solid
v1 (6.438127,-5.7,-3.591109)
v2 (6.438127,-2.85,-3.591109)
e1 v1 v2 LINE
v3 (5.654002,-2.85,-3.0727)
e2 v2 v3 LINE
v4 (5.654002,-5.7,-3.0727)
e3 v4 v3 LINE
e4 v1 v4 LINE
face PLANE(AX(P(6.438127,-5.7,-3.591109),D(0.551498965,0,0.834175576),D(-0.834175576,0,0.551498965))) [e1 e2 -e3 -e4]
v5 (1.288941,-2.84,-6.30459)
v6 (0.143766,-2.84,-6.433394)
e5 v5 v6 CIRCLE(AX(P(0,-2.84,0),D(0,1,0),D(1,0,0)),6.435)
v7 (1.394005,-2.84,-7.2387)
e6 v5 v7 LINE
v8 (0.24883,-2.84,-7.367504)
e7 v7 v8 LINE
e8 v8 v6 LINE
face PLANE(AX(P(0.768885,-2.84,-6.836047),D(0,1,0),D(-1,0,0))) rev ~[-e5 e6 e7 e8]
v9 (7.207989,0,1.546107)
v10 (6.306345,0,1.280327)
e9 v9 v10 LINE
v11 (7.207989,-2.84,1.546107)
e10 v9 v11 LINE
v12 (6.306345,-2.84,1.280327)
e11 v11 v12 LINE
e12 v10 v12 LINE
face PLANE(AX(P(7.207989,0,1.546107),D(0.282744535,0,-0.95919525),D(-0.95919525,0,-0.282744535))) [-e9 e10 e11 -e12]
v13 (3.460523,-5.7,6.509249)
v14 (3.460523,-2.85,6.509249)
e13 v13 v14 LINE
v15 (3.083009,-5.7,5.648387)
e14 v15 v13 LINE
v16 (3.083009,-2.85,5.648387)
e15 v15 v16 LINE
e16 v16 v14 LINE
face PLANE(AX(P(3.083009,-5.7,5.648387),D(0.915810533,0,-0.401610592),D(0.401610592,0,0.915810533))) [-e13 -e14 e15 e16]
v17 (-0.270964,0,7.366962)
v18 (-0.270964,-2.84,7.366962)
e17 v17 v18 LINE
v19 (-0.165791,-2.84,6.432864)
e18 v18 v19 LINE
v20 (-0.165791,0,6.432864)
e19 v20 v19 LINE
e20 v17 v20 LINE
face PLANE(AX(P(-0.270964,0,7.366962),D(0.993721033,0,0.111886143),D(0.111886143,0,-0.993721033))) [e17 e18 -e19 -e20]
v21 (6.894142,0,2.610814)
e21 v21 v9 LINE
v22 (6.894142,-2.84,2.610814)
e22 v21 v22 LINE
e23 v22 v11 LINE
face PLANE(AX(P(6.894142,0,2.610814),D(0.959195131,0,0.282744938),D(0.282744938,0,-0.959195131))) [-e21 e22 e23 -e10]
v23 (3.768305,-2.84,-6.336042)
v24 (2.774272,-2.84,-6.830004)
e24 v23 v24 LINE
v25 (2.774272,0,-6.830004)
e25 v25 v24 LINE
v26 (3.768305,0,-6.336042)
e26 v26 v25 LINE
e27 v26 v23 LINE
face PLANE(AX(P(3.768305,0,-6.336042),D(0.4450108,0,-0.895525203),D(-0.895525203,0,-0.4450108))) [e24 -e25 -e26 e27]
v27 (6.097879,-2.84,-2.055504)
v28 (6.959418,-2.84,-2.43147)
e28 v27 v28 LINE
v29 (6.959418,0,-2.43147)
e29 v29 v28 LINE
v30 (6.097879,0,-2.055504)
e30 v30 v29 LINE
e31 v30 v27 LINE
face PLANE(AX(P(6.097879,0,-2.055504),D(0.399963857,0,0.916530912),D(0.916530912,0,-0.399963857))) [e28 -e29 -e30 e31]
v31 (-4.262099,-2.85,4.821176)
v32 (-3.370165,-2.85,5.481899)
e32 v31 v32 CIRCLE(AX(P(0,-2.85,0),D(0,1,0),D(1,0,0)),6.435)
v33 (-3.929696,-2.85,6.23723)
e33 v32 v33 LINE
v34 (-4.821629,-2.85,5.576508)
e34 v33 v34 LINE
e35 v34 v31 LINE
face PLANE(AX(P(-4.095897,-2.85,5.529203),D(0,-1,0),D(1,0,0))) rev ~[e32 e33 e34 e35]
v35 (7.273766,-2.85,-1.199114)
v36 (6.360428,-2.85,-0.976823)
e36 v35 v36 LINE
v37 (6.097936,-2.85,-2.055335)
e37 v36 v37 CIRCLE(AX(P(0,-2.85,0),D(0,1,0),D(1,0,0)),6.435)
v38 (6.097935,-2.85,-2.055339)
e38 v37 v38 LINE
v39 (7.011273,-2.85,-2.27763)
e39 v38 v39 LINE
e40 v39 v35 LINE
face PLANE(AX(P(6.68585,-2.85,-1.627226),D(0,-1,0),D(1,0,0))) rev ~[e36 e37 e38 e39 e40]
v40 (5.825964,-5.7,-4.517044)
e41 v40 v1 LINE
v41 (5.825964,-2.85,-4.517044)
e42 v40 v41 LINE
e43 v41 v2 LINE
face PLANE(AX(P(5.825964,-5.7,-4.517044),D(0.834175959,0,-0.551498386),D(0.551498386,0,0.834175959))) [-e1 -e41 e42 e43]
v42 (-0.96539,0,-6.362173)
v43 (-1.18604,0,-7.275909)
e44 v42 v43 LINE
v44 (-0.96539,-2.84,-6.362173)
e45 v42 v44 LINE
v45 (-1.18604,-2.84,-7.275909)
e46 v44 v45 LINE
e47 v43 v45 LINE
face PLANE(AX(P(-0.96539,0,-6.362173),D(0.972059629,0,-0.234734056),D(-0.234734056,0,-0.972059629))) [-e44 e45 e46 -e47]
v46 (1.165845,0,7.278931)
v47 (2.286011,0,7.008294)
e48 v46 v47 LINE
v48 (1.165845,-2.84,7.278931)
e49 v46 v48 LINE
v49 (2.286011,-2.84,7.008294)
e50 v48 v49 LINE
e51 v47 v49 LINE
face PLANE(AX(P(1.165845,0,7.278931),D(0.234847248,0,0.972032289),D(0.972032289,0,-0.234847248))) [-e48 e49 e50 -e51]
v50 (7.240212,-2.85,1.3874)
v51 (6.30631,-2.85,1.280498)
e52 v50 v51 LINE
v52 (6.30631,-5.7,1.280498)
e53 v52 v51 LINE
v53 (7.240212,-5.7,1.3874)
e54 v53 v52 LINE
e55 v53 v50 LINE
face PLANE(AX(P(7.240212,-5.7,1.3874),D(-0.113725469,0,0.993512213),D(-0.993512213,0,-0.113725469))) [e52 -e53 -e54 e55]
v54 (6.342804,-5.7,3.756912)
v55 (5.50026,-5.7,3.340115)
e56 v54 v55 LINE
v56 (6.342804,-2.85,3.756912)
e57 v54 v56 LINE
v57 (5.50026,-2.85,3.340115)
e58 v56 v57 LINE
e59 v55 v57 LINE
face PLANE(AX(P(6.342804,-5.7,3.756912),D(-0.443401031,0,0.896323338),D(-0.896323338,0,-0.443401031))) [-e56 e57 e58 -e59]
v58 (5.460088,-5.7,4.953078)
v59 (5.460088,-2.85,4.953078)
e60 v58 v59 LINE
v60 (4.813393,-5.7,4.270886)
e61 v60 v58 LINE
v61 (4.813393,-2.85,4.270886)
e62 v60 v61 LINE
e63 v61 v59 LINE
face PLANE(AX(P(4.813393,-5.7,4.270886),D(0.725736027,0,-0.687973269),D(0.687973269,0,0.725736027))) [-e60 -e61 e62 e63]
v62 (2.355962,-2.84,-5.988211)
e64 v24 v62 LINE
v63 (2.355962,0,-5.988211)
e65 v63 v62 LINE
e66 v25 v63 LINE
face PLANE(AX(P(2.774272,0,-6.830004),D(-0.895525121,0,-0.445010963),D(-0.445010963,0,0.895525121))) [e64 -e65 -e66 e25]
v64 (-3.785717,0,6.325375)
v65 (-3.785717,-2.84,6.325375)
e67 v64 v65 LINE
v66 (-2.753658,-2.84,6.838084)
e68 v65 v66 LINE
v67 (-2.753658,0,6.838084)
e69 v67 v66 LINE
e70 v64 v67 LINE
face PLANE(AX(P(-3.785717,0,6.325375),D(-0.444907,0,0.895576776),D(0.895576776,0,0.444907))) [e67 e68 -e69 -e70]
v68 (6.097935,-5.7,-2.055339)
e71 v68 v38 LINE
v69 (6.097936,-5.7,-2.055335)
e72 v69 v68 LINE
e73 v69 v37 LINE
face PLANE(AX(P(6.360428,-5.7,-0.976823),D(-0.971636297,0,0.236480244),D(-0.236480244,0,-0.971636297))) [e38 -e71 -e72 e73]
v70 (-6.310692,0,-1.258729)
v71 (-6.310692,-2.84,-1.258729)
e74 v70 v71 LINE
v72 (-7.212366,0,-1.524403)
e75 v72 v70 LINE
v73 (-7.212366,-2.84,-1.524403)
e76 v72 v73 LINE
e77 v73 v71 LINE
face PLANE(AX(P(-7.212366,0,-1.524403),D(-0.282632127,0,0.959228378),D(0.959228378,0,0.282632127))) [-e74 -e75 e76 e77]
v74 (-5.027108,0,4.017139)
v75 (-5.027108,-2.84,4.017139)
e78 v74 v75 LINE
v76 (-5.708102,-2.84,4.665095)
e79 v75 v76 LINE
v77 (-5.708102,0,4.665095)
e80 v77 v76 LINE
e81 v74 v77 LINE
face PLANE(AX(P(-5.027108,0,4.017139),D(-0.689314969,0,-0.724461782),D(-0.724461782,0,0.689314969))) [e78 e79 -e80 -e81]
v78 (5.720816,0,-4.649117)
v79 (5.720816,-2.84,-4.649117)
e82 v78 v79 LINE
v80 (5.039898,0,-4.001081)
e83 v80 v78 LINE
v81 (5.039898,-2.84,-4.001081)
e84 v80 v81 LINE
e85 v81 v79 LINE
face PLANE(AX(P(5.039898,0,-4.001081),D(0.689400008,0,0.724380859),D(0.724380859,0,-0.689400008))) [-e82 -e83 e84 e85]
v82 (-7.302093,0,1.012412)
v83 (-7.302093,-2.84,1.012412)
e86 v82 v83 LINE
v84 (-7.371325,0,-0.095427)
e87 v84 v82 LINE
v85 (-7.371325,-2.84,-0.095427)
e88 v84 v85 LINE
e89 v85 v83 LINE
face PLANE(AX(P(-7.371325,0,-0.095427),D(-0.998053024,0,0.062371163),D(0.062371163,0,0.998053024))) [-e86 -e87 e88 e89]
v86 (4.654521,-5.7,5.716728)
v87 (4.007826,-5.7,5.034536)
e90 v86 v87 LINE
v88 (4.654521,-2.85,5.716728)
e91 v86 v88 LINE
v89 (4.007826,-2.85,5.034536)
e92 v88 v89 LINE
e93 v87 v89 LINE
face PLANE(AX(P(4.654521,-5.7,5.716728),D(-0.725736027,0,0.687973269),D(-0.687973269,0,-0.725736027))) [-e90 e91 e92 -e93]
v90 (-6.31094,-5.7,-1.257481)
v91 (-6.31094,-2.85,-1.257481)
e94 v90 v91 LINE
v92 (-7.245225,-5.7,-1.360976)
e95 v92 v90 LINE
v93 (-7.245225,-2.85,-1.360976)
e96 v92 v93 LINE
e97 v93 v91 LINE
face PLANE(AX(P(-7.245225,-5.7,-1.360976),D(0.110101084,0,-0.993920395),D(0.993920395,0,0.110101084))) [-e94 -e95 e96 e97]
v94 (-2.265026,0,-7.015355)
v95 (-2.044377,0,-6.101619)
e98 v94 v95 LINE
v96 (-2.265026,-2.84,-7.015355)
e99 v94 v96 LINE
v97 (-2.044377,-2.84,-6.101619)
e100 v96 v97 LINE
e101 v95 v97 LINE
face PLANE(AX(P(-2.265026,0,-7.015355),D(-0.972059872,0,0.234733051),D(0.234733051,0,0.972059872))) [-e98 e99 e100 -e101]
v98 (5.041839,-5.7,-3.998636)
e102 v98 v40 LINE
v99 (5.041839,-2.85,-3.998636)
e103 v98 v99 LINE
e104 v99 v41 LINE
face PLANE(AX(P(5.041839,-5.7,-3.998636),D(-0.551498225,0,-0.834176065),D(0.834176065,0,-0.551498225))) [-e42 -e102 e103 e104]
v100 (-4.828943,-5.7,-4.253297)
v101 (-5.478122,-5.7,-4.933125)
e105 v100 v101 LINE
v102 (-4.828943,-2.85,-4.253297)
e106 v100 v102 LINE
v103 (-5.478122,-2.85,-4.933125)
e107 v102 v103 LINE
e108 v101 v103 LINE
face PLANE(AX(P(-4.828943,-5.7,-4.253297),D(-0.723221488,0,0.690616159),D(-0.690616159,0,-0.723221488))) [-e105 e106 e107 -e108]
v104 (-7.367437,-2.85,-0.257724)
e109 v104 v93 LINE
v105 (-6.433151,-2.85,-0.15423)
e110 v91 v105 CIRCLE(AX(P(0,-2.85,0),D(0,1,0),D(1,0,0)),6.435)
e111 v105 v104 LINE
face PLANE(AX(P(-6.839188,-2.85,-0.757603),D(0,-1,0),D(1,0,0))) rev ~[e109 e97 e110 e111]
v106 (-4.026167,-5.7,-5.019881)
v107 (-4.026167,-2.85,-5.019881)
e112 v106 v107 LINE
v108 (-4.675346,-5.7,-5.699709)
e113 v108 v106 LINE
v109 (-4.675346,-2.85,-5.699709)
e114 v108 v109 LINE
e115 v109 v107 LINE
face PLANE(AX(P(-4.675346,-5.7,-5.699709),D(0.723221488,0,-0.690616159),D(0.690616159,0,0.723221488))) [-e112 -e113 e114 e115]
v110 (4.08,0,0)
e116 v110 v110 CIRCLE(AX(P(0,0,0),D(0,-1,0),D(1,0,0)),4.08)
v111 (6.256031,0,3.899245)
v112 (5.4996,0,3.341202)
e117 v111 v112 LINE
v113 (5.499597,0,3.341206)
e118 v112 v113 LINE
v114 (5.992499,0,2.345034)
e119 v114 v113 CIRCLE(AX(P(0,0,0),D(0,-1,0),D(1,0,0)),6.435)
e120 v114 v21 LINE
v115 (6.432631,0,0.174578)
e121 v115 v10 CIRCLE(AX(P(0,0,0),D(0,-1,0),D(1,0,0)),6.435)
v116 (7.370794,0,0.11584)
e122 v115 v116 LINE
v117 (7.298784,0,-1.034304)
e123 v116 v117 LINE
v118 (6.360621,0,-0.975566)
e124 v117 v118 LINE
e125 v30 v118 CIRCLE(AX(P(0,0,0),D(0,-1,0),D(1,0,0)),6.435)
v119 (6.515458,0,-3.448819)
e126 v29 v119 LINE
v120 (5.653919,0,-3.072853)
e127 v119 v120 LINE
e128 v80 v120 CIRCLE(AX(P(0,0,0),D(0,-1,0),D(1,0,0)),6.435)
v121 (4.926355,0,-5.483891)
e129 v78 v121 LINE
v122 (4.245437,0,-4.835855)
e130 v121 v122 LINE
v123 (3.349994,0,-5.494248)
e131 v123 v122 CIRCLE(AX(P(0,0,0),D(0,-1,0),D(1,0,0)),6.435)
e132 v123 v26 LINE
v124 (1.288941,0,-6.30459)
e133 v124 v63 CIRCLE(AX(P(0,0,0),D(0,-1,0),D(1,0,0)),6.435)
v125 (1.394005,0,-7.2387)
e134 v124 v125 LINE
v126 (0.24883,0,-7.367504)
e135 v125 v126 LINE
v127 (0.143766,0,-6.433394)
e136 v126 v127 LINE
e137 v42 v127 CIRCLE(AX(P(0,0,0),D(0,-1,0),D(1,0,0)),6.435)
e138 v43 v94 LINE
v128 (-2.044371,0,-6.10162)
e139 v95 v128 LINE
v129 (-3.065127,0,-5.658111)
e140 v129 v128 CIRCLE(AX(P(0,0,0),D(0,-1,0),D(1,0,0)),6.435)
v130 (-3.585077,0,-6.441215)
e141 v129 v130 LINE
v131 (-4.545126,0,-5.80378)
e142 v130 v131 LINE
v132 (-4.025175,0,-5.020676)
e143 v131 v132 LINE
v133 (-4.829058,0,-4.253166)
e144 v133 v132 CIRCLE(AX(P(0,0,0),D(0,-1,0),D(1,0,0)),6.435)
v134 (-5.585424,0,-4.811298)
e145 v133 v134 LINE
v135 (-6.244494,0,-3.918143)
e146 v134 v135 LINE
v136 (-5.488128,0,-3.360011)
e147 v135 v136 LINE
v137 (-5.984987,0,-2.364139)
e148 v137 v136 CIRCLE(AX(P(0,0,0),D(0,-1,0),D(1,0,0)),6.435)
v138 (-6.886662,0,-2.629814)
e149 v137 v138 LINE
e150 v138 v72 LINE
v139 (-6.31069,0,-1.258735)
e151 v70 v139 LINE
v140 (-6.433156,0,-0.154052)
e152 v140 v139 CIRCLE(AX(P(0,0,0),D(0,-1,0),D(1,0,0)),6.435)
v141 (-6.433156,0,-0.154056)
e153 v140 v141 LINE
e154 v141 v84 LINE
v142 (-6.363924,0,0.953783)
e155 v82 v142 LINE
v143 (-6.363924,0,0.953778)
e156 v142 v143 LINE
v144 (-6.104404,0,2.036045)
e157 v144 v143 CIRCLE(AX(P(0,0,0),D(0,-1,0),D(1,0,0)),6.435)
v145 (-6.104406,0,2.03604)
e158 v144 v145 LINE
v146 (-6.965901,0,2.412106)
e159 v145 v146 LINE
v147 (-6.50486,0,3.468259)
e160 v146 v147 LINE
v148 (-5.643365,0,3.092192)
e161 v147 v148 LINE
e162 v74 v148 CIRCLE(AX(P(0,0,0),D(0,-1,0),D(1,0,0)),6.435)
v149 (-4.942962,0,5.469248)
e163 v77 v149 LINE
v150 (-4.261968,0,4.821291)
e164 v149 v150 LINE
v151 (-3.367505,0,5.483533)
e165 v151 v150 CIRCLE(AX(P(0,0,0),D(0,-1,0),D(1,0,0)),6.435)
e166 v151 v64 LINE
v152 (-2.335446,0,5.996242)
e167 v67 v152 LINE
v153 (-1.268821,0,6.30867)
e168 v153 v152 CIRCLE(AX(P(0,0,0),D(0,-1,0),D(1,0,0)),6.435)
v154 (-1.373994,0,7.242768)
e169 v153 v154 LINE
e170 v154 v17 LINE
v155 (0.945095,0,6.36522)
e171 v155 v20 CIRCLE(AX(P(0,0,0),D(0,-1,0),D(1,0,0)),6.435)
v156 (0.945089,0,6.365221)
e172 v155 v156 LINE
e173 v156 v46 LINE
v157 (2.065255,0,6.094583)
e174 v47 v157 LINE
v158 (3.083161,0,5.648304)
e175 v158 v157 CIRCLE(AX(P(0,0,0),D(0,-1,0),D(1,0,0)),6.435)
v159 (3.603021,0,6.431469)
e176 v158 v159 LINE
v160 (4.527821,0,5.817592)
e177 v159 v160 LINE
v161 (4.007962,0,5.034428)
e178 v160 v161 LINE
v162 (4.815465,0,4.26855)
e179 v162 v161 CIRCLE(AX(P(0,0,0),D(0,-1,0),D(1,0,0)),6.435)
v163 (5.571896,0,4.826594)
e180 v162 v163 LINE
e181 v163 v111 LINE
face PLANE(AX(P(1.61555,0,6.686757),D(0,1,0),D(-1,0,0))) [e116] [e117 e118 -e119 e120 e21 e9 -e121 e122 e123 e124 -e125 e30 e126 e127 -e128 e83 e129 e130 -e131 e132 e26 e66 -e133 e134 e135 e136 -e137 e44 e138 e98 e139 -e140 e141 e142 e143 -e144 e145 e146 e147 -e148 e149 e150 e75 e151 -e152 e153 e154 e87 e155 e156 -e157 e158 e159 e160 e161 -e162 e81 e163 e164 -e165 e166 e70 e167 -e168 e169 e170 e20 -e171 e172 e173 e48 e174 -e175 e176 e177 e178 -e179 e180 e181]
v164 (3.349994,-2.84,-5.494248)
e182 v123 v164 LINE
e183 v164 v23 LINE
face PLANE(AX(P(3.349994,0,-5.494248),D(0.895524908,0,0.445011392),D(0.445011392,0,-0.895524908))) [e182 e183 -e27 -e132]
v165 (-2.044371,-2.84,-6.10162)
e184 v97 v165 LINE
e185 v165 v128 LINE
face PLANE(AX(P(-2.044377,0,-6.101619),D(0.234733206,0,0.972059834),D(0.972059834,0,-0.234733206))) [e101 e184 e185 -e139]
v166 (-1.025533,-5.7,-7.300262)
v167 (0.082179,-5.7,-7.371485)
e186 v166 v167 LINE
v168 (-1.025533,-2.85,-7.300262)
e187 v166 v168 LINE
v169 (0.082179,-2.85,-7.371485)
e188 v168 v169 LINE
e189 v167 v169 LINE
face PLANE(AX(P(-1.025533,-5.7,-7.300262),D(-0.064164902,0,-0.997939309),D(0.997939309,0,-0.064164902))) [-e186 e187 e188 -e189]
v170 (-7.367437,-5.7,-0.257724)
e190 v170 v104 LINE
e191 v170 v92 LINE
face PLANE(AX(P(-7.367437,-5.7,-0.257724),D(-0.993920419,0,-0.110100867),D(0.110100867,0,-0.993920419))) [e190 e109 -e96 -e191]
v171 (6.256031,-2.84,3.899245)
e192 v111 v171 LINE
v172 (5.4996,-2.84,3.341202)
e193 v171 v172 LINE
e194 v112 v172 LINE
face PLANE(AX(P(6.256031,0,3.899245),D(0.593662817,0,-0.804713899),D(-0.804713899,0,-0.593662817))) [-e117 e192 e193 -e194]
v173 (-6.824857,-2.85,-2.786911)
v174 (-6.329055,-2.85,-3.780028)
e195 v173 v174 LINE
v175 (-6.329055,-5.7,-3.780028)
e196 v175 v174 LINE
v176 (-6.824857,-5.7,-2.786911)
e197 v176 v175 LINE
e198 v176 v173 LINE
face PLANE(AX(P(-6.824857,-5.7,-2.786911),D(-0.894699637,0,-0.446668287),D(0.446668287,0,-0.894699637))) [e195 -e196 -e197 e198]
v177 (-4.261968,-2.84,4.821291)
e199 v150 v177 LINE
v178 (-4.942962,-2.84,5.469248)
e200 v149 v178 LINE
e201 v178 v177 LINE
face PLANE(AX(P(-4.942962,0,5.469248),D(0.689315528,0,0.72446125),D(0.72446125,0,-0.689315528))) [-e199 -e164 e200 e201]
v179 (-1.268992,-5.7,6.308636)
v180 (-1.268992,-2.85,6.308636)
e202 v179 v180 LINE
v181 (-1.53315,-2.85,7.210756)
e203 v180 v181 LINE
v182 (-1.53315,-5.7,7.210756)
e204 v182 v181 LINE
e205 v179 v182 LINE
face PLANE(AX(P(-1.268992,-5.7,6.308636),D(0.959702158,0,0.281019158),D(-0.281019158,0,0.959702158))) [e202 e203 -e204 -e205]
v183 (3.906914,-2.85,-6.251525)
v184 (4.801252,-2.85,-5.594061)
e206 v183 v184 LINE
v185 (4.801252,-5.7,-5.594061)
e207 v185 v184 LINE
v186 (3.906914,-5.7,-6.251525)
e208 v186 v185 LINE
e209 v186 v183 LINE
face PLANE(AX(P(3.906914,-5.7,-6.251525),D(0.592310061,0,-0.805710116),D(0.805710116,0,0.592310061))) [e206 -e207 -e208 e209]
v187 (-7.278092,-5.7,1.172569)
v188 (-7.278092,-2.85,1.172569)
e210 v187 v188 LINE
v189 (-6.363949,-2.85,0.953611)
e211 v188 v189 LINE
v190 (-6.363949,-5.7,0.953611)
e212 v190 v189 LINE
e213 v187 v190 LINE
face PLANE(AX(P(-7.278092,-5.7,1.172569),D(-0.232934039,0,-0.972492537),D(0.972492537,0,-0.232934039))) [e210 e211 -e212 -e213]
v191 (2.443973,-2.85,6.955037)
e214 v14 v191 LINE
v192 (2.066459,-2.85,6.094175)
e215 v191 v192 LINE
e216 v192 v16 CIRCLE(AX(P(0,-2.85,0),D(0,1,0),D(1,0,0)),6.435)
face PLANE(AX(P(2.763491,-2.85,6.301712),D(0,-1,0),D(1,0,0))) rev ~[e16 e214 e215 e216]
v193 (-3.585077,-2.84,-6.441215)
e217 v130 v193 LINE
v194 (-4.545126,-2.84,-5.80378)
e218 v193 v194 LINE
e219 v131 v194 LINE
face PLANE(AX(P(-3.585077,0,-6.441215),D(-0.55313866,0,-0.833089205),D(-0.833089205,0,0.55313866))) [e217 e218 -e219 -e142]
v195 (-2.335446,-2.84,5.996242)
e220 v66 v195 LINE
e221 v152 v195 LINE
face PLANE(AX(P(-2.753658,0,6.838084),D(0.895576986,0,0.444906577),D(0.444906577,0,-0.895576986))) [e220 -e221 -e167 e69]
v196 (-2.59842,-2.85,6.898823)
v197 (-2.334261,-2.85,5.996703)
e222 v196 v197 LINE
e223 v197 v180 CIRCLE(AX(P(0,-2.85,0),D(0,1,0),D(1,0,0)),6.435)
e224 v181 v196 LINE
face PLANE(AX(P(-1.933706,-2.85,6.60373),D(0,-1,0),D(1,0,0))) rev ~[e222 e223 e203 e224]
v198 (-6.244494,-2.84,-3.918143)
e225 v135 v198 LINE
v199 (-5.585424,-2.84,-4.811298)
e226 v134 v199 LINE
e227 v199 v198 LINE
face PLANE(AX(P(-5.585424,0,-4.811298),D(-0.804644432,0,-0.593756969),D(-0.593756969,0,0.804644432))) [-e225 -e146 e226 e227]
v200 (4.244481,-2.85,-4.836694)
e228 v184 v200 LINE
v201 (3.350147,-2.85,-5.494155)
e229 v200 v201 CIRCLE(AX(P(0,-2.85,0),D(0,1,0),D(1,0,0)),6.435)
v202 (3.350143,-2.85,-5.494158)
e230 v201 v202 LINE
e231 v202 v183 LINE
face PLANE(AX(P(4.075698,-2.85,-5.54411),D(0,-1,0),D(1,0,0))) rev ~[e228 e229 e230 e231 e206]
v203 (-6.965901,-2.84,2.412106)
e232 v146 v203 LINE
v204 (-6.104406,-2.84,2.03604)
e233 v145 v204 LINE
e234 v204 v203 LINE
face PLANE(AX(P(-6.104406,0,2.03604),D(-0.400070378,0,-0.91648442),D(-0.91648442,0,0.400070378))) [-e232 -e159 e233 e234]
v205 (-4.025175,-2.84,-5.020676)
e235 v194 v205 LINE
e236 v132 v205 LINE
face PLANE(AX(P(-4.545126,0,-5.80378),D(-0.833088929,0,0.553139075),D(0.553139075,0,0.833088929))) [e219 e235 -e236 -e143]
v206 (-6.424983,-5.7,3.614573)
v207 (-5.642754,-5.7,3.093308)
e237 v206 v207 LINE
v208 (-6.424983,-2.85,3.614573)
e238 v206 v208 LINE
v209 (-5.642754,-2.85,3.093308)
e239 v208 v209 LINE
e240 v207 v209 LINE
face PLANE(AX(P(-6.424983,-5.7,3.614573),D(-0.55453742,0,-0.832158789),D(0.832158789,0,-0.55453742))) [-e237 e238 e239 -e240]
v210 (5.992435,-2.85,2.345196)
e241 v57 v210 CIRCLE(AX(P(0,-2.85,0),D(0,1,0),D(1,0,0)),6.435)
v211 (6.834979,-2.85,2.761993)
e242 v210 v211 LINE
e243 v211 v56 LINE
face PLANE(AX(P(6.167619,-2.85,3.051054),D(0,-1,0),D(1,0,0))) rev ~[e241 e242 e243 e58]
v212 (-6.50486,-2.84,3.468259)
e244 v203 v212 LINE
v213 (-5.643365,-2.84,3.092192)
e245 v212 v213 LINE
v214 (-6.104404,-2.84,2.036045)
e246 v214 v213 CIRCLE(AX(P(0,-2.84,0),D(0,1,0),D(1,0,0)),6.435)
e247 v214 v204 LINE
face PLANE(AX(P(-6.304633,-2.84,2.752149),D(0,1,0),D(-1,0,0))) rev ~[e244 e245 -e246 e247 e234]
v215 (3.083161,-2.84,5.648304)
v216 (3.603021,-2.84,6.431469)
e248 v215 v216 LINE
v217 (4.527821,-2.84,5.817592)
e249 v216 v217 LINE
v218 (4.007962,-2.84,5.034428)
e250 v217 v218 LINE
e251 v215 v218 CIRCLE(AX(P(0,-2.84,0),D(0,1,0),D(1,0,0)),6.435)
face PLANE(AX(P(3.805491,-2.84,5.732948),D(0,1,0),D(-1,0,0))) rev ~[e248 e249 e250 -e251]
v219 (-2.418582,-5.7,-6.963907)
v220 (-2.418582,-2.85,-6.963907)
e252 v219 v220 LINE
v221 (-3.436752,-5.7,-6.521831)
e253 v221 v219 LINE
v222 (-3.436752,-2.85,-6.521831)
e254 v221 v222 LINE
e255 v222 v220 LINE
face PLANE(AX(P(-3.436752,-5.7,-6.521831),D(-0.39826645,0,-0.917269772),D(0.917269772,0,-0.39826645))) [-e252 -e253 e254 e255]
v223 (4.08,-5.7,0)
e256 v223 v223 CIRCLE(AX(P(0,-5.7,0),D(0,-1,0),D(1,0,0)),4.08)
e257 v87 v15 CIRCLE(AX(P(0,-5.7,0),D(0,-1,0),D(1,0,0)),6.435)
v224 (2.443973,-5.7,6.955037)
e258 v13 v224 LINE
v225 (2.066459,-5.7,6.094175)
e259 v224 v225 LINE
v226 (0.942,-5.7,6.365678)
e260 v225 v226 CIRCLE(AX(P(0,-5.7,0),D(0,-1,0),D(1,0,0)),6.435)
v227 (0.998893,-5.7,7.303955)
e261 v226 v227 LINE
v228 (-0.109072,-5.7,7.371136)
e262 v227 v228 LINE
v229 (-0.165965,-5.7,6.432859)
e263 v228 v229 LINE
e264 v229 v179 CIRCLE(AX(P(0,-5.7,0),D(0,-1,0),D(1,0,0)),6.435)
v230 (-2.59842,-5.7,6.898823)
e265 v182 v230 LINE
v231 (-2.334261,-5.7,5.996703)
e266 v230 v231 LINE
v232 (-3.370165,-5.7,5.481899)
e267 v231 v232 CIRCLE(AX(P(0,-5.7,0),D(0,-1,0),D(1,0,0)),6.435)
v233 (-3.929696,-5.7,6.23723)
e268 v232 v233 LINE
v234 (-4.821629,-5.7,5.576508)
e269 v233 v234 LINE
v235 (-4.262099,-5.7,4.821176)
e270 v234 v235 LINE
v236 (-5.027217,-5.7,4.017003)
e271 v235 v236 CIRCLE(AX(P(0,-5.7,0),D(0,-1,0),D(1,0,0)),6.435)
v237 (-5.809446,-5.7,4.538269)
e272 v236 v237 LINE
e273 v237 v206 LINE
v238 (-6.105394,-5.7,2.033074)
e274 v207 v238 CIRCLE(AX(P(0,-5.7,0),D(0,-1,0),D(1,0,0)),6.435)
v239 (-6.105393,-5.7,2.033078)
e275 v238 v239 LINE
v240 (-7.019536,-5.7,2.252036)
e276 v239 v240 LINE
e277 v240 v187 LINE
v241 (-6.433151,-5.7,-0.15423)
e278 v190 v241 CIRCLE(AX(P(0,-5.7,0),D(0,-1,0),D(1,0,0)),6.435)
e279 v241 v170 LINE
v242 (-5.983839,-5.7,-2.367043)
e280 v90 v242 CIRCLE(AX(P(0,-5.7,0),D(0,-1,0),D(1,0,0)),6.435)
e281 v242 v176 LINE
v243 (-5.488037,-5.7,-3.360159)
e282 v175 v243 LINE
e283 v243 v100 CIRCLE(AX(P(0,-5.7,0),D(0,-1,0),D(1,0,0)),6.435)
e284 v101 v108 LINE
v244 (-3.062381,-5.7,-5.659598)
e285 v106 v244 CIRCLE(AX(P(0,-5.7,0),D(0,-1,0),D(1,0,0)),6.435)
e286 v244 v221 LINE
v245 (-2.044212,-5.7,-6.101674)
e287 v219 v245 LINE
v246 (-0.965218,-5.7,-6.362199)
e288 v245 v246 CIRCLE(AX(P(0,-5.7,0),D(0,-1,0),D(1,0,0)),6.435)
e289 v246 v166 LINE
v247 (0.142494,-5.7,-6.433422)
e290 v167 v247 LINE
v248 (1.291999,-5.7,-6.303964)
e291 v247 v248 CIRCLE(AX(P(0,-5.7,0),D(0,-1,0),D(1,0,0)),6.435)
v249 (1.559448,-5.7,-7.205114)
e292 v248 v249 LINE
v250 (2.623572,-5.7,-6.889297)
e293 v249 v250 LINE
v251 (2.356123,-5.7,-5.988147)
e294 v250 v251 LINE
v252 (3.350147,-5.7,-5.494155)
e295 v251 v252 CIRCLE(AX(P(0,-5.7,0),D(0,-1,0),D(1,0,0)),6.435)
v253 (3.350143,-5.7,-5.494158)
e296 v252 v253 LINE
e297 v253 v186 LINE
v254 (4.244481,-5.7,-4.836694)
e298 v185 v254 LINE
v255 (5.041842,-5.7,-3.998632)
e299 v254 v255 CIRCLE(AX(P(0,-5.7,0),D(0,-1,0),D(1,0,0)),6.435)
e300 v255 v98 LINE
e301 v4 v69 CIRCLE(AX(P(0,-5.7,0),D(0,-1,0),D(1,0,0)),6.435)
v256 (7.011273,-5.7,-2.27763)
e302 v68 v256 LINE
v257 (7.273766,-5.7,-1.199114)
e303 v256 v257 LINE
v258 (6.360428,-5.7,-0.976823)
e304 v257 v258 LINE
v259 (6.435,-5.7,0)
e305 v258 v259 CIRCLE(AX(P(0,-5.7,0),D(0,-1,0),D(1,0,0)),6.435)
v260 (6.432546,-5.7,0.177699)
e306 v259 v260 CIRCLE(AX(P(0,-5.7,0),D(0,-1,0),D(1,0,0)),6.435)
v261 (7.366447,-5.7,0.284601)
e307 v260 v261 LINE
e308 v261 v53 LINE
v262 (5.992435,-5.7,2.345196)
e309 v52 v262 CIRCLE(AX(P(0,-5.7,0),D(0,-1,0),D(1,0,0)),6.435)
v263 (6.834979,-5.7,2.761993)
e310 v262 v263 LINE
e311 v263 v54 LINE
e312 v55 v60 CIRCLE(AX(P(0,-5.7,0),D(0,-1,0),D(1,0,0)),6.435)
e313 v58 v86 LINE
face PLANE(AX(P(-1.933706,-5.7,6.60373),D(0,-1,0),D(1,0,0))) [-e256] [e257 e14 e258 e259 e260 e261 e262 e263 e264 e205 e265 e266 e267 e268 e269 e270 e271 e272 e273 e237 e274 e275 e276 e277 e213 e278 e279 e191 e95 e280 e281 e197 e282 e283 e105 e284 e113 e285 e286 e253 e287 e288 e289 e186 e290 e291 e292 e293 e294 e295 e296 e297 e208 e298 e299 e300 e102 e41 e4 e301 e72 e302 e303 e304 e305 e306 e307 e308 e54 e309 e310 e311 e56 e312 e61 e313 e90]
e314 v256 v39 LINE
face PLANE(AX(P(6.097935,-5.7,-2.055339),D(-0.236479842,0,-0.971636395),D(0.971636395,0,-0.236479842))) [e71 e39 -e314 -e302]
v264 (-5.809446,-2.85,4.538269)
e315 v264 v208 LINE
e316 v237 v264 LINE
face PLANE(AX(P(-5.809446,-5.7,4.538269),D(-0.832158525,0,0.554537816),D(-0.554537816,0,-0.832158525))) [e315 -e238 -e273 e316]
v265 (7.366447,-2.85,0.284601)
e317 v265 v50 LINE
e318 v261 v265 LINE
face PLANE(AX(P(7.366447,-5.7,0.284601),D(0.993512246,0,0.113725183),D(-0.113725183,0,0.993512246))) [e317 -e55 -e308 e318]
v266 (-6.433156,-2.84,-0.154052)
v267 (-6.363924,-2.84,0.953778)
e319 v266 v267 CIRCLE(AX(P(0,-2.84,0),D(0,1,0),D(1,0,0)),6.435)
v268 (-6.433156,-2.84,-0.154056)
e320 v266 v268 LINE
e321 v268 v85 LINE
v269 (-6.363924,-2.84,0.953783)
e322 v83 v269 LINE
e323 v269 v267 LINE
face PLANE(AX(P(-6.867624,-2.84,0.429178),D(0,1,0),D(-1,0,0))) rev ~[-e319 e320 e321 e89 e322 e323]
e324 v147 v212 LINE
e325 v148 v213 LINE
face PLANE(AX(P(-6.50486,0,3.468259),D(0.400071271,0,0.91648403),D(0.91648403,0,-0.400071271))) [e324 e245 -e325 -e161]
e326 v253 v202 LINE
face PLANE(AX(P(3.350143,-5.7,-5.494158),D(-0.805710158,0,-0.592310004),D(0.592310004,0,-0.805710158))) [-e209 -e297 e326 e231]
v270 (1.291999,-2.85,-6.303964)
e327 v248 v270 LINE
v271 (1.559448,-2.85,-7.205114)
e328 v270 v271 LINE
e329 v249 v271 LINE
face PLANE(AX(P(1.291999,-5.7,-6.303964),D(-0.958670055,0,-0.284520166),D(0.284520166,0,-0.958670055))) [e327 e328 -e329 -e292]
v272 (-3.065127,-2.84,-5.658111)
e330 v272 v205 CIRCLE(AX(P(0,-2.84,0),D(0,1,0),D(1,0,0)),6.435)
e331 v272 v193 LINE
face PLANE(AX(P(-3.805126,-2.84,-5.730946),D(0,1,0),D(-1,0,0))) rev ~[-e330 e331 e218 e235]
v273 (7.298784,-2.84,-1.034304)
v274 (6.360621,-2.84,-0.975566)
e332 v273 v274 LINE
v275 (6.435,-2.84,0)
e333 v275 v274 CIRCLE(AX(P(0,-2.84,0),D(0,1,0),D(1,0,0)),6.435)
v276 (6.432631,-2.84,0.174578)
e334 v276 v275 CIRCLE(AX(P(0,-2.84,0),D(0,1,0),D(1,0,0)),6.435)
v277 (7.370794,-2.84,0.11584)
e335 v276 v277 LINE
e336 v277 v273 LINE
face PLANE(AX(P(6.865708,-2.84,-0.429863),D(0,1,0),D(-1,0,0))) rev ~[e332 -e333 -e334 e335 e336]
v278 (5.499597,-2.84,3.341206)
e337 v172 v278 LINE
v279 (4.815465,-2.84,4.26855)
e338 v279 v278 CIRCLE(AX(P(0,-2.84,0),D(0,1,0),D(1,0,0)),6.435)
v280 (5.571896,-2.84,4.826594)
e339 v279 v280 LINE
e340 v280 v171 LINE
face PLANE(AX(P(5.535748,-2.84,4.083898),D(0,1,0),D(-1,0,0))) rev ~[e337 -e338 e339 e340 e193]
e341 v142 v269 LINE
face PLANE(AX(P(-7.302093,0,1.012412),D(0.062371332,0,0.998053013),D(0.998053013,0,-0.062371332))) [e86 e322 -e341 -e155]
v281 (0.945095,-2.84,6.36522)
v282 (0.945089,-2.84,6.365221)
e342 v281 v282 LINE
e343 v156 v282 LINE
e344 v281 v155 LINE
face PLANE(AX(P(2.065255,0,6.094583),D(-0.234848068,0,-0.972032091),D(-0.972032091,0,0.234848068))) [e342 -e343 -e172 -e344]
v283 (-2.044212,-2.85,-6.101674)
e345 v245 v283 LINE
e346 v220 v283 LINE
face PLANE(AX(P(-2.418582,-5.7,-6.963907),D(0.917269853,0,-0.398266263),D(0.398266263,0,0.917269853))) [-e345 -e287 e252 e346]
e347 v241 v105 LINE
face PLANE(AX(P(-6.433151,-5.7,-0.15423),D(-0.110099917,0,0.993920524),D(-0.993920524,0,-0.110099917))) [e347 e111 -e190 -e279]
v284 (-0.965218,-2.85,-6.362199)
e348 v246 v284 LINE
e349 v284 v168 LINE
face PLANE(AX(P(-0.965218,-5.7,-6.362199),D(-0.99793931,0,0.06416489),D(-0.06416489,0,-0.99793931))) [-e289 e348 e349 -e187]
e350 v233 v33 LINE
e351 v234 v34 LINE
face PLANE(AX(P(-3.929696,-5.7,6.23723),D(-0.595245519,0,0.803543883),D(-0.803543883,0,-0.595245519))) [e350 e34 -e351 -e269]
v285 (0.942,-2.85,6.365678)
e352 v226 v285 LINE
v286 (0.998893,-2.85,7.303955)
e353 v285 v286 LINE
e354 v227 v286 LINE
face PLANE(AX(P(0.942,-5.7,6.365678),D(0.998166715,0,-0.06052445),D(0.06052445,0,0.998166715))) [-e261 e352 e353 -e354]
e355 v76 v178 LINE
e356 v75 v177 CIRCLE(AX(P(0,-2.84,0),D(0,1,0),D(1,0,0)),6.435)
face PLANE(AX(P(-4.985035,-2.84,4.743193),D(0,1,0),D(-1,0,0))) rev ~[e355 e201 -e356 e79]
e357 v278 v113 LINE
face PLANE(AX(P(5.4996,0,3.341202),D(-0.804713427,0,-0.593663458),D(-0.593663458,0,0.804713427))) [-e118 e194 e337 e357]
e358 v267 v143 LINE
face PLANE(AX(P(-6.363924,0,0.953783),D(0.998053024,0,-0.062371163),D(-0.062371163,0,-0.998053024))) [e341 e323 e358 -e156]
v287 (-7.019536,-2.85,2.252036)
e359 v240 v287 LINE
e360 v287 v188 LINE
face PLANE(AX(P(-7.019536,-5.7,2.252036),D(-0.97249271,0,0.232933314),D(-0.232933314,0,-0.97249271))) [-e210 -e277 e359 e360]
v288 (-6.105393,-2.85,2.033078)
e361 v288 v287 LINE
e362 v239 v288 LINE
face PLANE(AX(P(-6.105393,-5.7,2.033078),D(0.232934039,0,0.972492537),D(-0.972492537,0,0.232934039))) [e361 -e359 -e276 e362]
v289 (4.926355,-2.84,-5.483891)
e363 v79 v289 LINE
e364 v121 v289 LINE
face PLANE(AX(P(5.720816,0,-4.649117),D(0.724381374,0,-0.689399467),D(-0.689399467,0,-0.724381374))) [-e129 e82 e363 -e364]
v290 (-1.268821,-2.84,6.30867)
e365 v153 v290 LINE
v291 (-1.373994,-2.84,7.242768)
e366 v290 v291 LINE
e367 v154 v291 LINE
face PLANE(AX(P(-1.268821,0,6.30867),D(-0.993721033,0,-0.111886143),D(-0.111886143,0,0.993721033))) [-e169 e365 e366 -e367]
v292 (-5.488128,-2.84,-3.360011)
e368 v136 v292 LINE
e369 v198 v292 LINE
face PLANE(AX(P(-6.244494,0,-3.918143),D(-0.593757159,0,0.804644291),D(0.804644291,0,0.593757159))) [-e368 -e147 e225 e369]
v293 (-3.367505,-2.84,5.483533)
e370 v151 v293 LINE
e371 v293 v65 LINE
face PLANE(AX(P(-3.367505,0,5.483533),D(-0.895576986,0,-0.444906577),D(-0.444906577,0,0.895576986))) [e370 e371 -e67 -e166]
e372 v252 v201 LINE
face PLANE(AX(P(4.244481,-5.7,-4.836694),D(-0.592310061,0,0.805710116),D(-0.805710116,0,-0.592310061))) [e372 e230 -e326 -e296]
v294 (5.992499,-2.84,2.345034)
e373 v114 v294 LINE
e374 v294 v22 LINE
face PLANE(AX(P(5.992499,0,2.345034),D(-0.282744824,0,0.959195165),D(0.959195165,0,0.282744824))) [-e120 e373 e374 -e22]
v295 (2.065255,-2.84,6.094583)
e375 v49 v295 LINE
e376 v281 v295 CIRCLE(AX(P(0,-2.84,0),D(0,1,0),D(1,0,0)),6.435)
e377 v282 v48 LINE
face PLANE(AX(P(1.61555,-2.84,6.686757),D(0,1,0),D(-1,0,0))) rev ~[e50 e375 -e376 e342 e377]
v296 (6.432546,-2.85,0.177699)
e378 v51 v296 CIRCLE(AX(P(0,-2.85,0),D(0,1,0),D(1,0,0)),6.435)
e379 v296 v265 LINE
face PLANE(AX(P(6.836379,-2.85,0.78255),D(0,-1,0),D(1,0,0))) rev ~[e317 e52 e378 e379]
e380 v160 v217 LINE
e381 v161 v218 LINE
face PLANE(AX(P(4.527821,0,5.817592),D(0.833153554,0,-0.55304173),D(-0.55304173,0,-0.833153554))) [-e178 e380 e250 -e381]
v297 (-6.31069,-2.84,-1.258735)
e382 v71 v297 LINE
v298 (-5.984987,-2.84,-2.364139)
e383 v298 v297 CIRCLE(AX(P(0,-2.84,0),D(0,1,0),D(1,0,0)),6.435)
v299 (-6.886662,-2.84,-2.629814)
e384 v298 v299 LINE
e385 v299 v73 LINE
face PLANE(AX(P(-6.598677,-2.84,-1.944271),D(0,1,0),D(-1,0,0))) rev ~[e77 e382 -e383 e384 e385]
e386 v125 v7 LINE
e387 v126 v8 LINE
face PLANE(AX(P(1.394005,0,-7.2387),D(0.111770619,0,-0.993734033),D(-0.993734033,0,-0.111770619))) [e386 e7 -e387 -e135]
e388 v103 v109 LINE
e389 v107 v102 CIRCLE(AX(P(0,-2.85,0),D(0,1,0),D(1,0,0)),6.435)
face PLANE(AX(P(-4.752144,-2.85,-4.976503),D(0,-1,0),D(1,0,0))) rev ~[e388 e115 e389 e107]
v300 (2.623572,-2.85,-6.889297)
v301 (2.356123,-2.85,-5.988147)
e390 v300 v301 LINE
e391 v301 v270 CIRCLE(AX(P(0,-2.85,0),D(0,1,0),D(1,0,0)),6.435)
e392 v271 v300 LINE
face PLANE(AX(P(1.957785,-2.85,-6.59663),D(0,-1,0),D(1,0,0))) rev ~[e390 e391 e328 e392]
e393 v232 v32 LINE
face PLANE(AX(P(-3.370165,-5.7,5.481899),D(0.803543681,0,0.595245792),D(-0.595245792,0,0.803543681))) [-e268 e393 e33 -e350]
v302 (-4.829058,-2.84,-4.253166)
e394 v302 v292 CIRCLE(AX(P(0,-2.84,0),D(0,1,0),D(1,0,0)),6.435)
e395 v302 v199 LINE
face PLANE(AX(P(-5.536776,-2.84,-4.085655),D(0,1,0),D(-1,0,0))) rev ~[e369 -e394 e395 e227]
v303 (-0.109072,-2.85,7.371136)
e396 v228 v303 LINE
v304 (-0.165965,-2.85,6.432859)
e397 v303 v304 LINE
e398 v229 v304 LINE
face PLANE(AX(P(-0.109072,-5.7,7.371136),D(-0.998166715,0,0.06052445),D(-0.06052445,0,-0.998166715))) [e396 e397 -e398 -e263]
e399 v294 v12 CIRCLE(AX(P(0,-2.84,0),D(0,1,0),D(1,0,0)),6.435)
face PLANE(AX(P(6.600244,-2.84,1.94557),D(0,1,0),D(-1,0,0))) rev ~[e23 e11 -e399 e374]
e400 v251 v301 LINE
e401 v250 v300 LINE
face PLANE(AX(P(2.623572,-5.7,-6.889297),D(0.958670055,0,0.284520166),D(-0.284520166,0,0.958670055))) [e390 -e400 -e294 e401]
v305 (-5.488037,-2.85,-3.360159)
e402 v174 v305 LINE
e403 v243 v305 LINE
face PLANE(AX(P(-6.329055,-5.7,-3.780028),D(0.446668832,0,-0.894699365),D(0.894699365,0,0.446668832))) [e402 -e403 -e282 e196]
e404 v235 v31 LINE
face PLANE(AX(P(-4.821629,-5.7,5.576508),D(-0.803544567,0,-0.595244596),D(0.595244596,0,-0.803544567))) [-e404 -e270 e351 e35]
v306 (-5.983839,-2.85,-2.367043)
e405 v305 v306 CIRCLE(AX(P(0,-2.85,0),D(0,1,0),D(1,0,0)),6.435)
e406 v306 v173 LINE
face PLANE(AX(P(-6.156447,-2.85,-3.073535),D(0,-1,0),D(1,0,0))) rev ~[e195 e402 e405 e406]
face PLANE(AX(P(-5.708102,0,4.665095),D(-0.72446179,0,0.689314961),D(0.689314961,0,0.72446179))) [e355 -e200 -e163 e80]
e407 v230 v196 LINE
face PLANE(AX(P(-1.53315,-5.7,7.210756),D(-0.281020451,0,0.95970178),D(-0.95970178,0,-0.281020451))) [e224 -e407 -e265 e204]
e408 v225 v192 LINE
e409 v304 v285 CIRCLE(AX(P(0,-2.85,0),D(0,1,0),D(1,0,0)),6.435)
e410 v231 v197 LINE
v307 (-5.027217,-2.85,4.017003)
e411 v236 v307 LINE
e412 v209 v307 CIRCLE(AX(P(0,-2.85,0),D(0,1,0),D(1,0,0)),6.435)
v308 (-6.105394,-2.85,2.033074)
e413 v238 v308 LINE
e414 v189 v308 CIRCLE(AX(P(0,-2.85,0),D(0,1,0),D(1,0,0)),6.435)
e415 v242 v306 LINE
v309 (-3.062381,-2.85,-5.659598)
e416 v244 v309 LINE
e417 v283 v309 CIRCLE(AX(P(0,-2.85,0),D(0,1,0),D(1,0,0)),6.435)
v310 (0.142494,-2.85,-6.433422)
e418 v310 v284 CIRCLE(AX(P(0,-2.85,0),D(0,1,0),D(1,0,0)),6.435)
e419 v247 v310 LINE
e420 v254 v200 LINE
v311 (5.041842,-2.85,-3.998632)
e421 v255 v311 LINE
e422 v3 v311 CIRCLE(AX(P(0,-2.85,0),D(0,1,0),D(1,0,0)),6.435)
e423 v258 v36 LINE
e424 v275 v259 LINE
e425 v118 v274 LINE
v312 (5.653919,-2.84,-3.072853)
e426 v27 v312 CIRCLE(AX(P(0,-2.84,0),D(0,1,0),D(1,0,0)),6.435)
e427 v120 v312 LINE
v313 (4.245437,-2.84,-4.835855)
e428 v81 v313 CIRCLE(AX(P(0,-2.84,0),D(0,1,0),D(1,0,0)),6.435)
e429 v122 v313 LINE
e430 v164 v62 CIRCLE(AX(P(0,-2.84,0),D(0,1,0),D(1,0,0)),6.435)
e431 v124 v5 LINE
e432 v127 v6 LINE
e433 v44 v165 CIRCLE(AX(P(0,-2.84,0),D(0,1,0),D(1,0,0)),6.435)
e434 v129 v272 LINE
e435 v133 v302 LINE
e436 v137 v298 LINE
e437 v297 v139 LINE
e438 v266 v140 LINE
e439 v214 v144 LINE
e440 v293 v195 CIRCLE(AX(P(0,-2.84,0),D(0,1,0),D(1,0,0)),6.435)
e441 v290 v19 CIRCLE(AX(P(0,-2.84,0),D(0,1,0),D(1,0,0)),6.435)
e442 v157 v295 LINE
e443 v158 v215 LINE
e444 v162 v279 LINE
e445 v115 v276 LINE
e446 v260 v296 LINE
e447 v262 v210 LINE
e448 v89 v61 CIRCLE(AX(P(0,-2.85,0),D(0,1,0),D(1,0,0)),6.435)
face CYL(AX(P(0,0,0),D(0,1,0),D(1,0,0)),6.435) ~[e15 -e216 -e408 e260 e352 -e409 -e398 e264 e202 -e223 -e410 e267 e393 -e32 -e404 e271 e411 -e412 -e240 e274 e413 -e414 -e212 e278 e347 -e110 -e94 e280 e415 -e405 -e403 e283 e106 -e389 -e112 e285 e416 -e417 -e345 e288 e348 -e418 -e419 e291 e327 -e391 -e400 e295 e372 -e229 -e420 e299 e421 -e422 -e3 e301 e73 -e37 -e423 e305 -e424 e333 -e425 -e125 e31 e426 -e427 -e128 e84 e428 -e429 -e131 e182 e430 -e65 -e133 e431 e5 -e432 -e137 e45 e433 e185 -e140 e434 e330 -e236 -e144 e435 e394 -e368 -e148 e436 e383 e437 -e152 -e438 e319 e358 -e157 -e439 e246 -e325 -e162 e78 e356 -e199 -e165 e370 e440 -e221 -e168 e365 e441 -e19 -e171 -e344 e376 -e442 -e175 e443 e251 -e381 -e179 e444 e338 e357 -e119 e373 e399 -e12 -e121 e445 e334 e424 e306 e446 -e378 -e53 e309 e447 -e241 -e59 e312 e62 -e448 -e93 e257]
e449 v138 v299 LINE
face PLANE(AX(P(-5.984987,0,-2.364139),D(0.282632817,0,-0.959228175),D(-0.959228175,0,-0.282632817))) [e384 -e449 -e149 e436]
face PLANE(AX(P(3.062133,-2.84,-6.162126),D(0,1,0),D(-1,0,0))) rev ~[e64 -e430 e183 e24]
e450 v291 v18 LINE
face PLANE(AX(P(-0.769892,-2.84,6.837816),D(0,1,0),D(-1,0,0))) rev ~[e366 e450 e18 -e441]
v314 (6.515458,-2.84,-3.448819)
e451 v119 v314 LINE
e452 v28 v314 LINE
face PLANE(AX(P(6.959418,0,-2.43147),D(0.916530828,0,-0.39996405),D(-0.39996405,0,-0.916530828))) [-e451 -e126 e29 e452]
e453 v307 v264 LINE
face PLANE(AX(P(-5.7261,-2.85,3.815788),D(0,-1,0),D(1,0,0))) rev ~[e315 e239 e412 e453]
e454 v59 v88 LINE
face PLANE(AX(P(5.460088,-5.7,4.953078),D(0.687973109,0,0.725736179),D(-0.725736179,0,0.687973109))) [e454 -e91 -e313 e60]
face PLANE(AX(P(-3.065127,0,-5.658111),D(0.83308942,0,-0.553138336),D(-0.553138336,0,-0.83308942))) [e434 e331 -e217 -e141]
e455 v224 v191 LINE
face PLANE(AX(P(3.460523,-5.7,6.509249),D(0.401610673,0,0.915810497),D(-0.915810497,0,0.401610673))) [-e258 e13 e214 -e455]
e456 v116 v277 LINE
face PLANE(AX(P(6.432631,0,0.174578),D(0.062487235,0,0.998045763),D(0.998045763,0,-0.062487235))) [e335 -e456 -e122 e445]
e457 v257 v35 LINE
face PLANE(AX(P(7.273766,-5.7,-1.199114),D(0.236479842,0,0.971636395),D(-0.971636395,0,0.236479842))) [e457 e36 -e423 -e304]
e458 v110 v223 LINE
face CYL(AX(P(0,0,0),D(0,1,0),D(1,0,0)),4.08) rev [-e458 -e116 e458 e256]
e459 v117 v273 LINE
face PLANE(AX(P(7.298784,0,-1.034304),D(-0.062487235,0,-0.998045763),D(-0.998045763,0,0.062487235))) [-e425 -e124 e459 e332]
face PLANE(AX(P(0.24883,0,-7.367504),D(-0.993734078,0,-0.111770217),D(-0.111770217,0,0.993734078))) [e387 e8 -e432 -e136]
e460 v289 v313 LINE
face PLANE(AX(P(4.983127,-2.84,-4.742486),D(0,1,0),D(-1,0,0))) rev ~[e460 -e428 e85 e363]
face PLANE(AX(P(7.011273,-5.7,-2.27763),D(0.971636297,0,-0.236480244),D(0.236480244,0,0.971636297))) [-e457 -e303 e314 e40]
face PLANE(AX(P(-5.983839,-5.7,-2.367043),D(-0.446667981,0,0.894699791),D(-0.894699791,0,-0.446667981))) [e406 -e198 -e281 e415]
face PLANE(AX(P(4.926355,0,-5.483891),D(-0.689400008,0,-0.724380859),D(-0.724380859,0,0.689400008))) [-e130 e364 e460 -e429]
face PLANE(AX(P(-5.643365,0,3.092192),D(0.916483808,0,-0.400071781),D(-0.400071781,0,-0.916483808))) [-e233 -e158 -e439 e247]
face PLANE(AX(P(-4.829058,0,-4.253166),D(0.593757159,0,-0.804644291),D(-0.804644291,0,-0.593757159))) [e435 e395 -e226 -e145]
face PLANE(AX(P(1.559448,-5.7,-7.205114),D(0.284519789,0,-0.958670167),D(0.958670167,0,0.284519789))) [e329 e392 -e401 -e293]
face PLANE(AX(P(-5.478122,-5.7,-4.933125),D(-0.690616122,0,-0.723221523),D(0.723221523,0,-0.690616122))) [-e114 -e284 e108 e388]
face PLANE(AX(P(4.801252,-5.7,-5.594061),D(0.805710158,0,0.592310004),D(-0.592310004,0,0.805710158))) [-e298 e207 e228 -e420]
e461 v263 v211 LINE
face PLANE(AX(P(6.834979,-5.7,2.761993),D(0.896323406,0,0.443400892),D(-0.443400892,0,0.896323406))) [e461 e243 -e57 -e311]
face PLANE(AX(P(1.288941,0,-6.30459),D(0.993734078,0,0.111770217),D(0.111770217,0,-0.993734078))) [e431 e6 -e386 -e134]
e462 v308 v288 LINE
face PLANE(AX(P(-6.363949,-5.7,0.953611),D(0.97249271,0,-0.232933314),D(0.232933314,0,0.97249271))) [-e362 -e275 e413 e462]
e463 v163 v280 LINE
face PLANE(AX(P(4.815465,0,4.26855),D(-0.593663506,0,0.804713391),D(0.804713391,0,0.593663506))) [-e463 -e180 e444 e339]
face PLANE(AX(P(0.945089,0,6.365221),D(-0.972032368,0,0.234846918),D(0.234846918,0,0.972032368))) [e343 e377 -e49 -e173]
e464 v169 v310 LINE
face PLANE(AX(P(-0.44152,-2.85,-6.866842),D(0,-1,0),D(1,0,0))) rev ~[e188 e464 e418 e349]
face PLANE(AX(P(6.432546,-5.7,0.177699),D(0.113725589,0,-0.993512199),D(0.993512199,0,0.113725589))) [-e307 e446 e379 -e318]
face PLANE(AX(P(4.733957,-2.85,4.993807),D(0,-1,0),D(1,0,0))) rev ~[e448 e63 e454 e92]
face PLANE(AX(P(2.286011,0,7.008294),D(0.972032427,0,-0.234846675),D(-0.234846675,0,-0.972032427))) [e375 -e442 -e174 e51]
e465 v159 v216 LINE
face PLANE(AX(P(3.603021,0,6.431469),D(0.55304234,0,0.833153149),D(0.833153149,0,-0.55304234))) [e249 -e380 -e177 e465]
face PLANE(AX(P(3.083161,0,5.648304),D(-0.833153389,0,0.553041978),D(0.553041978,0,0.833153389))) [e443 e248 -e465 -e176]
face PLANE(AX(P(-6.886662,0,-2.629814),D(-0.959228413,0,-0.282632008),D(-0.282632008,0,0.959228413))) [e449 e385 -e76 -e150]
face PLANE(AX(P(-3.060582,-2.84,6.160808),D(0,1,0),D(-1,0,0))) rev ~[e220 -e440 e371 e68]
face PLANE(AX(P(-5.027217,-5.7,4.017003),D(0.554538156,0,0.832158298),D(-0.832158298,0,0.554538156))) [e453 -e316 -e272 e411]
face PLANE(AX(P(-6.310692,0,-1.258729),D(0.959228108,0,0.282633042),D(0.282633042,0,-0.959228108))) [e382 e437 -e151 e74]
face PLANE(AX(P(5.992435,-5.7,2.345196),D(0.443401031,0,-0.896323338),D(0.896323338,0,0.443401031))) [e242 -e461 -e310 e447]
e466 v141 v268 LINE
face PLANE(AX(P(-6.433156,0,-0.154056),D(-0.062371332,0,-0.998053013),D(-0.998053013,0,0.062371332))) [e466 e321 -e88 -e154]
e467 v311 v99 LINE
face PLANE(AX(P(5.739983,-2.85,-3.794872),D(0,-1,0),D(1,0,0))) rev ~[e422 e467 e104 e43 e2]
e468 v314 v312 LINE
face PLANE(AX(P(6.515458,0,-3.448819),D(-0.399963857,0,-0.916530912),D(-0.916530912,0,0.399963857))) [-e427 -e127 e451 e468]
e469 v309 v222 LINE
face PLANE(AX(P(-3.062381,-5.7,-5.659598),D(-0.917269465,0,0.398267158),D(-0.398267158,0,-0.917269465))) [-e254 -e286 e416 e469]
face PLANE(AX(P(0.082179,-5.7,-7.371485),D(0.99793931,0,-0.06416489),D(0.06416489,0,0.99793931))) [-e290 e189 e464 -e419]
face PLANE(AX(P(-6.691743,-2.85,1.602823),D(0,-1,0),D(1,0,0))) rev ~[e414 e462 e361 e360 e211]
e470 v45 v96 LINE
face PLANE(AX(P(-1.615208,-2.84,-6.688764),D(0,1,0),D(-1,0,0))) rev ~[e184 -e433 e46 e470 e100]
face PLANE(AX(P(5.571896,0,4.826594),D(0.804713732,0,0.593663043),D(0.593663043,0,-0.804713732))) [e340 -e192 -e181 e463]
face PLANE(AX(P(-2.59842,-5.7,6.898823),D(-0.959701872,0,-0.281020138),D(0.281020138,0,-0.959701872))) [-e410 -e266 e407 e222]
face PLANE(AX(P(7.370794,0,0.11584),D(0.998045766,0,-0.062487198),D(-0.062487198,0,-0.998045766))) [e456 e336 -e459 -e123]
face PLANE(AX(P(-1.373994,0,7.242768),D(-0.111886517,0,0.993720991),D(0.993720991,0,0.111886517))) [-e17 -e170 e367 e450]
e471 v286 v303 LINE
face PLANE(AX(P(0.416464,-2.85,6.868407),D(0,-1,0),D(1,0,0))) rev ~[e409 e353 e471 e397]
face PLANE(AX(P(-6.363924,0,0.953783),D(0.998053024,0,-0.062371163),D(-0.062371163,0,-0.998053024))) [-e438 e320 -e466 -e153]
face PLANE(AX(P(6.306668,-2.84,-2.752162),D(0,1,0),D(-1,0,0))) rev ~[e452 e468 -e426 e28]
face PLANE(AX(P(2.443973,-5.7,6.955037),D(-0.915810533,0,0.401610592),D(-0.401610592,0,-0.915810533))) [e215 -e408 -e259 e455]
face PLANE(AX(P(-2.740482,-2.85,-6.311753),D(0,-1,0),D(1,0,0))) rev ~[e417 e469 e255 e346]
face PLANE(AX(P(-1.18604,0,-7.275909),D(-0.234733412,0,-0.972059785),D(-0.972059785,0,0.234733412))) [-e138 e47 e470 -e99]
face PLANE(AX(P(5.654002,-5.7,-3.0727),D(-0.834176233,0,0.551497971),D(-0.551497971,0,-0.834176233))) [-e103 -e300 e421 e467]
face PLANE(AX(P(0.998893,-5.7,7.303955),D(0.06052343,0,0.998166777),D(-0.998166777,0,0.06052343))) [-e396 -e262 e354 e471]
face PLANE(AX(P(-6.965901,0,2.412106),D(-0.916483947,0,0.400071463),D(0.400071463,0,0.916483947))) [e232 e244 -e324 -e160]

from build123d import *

# Parameters (mm, degrees)
F0_R     = 6.435
F0_R_2   = 4.08
F1_DEPTH = 5.7
F3_DEPTH = 2.85
F5_DEPTH = 2.84


with BuildPart() as f1:
    # F0 (on Front) → F1 (new body)
    with BuildSketch(Plane.XZ):
        Circle(F0_R)
        Circle(F0_R_2, mode=Mode.SUBTRACT)
    extrude(amount=F1_DEPTH)

    # F2 (on face) → F3 (join)
    with BuildSketch(Plane.XZ.offset(5.7)):
        Polygon((-2.59842, 6.898823), (-2.334261, 5.996703), (-1.268992, 6.308636), (-1.53315, 7.210756), align=None)
        Polygon((-0.109072, 7.371136), (-0.165965, 6.432859), (0.942, 6.365678), (0.998893, 7.303955), align=None)
        Polygon((-4.821629, 5.576508), (-4.262099, 4.821176), (-3.370165, 5.481899), (-3.929696, 6.23723), align=None)
        Polygon((-5.642754, 3.093308), (-5.027217, 4.017003), (-5.809446, 4.538269), (-6.424983, 3.614573), align=None)
        Polygon((-7.278092, 1.172569), (-6.363949, 0.953611), (-6.105393, 2.033078), (-7.019536, 2.252036), align=None)
        Polygon((-6.31094, -1.257481), (-6.433151, -0.15423), (-7.367437, -0.257724), (-7.245225, -1.360976), align=None)
        Polygon((-6.329055, -3.780028), (-5.488037, -3.360159), (-5.983839, -2.367043), (-6.824857, -2.786911), align=None)
        Polygon((-4.026167, -5.019881), (-4.828943, -4.253297), (-5.478122, -4.933125), (-4.675346, -5.699709), align=None)
        Polygon((-2.418582, -6.963907), (-2.044212, -6.101674), (-3.062381, -5.659598), (-3.436752, -6.521831), align=None)
        Polygon((0.142494, -6.433422), (-0.965218, -6.362199), (-1.025533, -7.300262), (0.082179, -7.371485), align=None)
        Polygon((2.623572, -6.889297), (2.356123, -5.988147), (1.291999, -6.303964), (1.559448, -7.205114), align=None)
        Polygon((4.244481, -4.836694), (3.350143, -5.494158), (3.906914, -6.251525), (4.801252, -5.594061), align=None)
        Polygon((6.438127, -3.591109), (5.654002, -3.0727), (5.041839, -3.998636), (5.825964, -4.517044), align=None)
        Polygon((6.360428, -0.976823), (6.097935, -2.055339), (7.011273, -2.27763), (7.273766, -1.199114), align=None)
        Polygon((7.240212, 1.3874), (6.30631, 1.280498), (6.432546, 0.177699), (7.366447, 0.284601), align=None)
        Polygon((5.50026, 3.340115), (5.992435, 2.345196), (6.834979, 2.761993), (6.342804, 3.756912), align=None)
        Polygon((4.654521, 5.716728), (4.007826, 5.034536), (4.813393, 4.270886), (5.460088, 4.953078), align=None)
        Polygon((2.066459, 6.094175), (3.083009, 5.648387), (3.460523, 6.509249), (2.443973, 6.955037), align=None)
    extrude(amount=-F3_DEPTH)

    # F4 (on face) → F5 (join)
    with BuildSketch(Plane(origin=(0, 0, 0), x_dir=(-1, 0, 0), z_dir=(0, 1, 0))):
        Polygon((-2.286011, 7.008294), (-2.065255, 6.094583), (-0.945089, 6.365221), (-1.165845, 7.278931), align=None)
        Polygon((0.270964, 7.366962), (0.165791, 6.432864), (1.268821, 6.30867), (1.373994, 7.242768), align=None)
        Polygon((-6.256031, 3.899245), (-5.4996, 3.341202), (-4.815465, 4.26855), (-5.571896, 4.826594), align=None)
        Polygon((-4.527821, 5.817592), (-4.007962, 5.034428), (-3.083161, 5.648304), (-3.603021, 6.431469), align=None)
        Polygon((-7.298784, -1.034304), (-6.360621, -0.975566), (-6.432631, 0.174578), (-7.370794, 0.11584), align=None)
        Polygon((-7.207989, 1.546107), (-6.306345, 1.280327), (-5.992499, 2.345034), (-6.894142, 2.610814), align=None)
        Polygon((-4.926355, -5.483891), (-4.245437, -4.835855), (-5.039898, -4.001081), (-5.720816, -4.649117), align=None)
        Polygon((-6.515458, -3.448819), (-5.653919, -3.072853), (-6.097879, -2.055504), (-6.959418, -2.43147), align=None)
        Polygon((-0.24883, -7.367504), (-0.143766, -6.433394), (-1.288941, -6.30459), (-1.394005, -7.2387), align=None)
        Polygon((-2.774272, -6.830004), (-2.355962, -5.988211), (-3.349994, -5.494248), (-3.768305, -6.336042), align=None)
        Polygon((4.545126, -5.80378), (4.025175, -5.020676), (3.065127, -5.658111), (3.585077, -6.441215), align=None)
        Polygon((2.265026, -7.015355), (2.044377, -6.101619), (0.96539, -6.362173), (1.18604, -7.275909), align=None)
        Polygon((7.212366, -1.524403), (6.310692, -1.258729), (5.984987, -2.364139), (6.886662, -2.629814), align=None)
        Polygon((6.244494, -3.918143), (5.488128, -3.360011), (4.829058, -4.253166), (5.585424, -4.811298), align=None)
        Polygon((6.50486, 3.468259), (5.643365, 3.092192), (6.104406, 2.03604), (6.965901, 2.412106), align=None)
        Polygon((7.302093, 1.012412), (6.363924, 0.953783), (6.433156, -0.154056), (7.371325, -0.095427), align=None)
        Polygon((2.753658, 6.838084), (2.335446, 5.996242), (3.367505, 5.483533), (3.785717, 6.325375), align=None)
        Polygon((4.942962, 5.469248), (4.261968, 4.821291), (5.027108, 4.017139), (5.708102, 4.665095), align=None)
    extrude(amount=-F5_DEPTH)


solid = f1.part
